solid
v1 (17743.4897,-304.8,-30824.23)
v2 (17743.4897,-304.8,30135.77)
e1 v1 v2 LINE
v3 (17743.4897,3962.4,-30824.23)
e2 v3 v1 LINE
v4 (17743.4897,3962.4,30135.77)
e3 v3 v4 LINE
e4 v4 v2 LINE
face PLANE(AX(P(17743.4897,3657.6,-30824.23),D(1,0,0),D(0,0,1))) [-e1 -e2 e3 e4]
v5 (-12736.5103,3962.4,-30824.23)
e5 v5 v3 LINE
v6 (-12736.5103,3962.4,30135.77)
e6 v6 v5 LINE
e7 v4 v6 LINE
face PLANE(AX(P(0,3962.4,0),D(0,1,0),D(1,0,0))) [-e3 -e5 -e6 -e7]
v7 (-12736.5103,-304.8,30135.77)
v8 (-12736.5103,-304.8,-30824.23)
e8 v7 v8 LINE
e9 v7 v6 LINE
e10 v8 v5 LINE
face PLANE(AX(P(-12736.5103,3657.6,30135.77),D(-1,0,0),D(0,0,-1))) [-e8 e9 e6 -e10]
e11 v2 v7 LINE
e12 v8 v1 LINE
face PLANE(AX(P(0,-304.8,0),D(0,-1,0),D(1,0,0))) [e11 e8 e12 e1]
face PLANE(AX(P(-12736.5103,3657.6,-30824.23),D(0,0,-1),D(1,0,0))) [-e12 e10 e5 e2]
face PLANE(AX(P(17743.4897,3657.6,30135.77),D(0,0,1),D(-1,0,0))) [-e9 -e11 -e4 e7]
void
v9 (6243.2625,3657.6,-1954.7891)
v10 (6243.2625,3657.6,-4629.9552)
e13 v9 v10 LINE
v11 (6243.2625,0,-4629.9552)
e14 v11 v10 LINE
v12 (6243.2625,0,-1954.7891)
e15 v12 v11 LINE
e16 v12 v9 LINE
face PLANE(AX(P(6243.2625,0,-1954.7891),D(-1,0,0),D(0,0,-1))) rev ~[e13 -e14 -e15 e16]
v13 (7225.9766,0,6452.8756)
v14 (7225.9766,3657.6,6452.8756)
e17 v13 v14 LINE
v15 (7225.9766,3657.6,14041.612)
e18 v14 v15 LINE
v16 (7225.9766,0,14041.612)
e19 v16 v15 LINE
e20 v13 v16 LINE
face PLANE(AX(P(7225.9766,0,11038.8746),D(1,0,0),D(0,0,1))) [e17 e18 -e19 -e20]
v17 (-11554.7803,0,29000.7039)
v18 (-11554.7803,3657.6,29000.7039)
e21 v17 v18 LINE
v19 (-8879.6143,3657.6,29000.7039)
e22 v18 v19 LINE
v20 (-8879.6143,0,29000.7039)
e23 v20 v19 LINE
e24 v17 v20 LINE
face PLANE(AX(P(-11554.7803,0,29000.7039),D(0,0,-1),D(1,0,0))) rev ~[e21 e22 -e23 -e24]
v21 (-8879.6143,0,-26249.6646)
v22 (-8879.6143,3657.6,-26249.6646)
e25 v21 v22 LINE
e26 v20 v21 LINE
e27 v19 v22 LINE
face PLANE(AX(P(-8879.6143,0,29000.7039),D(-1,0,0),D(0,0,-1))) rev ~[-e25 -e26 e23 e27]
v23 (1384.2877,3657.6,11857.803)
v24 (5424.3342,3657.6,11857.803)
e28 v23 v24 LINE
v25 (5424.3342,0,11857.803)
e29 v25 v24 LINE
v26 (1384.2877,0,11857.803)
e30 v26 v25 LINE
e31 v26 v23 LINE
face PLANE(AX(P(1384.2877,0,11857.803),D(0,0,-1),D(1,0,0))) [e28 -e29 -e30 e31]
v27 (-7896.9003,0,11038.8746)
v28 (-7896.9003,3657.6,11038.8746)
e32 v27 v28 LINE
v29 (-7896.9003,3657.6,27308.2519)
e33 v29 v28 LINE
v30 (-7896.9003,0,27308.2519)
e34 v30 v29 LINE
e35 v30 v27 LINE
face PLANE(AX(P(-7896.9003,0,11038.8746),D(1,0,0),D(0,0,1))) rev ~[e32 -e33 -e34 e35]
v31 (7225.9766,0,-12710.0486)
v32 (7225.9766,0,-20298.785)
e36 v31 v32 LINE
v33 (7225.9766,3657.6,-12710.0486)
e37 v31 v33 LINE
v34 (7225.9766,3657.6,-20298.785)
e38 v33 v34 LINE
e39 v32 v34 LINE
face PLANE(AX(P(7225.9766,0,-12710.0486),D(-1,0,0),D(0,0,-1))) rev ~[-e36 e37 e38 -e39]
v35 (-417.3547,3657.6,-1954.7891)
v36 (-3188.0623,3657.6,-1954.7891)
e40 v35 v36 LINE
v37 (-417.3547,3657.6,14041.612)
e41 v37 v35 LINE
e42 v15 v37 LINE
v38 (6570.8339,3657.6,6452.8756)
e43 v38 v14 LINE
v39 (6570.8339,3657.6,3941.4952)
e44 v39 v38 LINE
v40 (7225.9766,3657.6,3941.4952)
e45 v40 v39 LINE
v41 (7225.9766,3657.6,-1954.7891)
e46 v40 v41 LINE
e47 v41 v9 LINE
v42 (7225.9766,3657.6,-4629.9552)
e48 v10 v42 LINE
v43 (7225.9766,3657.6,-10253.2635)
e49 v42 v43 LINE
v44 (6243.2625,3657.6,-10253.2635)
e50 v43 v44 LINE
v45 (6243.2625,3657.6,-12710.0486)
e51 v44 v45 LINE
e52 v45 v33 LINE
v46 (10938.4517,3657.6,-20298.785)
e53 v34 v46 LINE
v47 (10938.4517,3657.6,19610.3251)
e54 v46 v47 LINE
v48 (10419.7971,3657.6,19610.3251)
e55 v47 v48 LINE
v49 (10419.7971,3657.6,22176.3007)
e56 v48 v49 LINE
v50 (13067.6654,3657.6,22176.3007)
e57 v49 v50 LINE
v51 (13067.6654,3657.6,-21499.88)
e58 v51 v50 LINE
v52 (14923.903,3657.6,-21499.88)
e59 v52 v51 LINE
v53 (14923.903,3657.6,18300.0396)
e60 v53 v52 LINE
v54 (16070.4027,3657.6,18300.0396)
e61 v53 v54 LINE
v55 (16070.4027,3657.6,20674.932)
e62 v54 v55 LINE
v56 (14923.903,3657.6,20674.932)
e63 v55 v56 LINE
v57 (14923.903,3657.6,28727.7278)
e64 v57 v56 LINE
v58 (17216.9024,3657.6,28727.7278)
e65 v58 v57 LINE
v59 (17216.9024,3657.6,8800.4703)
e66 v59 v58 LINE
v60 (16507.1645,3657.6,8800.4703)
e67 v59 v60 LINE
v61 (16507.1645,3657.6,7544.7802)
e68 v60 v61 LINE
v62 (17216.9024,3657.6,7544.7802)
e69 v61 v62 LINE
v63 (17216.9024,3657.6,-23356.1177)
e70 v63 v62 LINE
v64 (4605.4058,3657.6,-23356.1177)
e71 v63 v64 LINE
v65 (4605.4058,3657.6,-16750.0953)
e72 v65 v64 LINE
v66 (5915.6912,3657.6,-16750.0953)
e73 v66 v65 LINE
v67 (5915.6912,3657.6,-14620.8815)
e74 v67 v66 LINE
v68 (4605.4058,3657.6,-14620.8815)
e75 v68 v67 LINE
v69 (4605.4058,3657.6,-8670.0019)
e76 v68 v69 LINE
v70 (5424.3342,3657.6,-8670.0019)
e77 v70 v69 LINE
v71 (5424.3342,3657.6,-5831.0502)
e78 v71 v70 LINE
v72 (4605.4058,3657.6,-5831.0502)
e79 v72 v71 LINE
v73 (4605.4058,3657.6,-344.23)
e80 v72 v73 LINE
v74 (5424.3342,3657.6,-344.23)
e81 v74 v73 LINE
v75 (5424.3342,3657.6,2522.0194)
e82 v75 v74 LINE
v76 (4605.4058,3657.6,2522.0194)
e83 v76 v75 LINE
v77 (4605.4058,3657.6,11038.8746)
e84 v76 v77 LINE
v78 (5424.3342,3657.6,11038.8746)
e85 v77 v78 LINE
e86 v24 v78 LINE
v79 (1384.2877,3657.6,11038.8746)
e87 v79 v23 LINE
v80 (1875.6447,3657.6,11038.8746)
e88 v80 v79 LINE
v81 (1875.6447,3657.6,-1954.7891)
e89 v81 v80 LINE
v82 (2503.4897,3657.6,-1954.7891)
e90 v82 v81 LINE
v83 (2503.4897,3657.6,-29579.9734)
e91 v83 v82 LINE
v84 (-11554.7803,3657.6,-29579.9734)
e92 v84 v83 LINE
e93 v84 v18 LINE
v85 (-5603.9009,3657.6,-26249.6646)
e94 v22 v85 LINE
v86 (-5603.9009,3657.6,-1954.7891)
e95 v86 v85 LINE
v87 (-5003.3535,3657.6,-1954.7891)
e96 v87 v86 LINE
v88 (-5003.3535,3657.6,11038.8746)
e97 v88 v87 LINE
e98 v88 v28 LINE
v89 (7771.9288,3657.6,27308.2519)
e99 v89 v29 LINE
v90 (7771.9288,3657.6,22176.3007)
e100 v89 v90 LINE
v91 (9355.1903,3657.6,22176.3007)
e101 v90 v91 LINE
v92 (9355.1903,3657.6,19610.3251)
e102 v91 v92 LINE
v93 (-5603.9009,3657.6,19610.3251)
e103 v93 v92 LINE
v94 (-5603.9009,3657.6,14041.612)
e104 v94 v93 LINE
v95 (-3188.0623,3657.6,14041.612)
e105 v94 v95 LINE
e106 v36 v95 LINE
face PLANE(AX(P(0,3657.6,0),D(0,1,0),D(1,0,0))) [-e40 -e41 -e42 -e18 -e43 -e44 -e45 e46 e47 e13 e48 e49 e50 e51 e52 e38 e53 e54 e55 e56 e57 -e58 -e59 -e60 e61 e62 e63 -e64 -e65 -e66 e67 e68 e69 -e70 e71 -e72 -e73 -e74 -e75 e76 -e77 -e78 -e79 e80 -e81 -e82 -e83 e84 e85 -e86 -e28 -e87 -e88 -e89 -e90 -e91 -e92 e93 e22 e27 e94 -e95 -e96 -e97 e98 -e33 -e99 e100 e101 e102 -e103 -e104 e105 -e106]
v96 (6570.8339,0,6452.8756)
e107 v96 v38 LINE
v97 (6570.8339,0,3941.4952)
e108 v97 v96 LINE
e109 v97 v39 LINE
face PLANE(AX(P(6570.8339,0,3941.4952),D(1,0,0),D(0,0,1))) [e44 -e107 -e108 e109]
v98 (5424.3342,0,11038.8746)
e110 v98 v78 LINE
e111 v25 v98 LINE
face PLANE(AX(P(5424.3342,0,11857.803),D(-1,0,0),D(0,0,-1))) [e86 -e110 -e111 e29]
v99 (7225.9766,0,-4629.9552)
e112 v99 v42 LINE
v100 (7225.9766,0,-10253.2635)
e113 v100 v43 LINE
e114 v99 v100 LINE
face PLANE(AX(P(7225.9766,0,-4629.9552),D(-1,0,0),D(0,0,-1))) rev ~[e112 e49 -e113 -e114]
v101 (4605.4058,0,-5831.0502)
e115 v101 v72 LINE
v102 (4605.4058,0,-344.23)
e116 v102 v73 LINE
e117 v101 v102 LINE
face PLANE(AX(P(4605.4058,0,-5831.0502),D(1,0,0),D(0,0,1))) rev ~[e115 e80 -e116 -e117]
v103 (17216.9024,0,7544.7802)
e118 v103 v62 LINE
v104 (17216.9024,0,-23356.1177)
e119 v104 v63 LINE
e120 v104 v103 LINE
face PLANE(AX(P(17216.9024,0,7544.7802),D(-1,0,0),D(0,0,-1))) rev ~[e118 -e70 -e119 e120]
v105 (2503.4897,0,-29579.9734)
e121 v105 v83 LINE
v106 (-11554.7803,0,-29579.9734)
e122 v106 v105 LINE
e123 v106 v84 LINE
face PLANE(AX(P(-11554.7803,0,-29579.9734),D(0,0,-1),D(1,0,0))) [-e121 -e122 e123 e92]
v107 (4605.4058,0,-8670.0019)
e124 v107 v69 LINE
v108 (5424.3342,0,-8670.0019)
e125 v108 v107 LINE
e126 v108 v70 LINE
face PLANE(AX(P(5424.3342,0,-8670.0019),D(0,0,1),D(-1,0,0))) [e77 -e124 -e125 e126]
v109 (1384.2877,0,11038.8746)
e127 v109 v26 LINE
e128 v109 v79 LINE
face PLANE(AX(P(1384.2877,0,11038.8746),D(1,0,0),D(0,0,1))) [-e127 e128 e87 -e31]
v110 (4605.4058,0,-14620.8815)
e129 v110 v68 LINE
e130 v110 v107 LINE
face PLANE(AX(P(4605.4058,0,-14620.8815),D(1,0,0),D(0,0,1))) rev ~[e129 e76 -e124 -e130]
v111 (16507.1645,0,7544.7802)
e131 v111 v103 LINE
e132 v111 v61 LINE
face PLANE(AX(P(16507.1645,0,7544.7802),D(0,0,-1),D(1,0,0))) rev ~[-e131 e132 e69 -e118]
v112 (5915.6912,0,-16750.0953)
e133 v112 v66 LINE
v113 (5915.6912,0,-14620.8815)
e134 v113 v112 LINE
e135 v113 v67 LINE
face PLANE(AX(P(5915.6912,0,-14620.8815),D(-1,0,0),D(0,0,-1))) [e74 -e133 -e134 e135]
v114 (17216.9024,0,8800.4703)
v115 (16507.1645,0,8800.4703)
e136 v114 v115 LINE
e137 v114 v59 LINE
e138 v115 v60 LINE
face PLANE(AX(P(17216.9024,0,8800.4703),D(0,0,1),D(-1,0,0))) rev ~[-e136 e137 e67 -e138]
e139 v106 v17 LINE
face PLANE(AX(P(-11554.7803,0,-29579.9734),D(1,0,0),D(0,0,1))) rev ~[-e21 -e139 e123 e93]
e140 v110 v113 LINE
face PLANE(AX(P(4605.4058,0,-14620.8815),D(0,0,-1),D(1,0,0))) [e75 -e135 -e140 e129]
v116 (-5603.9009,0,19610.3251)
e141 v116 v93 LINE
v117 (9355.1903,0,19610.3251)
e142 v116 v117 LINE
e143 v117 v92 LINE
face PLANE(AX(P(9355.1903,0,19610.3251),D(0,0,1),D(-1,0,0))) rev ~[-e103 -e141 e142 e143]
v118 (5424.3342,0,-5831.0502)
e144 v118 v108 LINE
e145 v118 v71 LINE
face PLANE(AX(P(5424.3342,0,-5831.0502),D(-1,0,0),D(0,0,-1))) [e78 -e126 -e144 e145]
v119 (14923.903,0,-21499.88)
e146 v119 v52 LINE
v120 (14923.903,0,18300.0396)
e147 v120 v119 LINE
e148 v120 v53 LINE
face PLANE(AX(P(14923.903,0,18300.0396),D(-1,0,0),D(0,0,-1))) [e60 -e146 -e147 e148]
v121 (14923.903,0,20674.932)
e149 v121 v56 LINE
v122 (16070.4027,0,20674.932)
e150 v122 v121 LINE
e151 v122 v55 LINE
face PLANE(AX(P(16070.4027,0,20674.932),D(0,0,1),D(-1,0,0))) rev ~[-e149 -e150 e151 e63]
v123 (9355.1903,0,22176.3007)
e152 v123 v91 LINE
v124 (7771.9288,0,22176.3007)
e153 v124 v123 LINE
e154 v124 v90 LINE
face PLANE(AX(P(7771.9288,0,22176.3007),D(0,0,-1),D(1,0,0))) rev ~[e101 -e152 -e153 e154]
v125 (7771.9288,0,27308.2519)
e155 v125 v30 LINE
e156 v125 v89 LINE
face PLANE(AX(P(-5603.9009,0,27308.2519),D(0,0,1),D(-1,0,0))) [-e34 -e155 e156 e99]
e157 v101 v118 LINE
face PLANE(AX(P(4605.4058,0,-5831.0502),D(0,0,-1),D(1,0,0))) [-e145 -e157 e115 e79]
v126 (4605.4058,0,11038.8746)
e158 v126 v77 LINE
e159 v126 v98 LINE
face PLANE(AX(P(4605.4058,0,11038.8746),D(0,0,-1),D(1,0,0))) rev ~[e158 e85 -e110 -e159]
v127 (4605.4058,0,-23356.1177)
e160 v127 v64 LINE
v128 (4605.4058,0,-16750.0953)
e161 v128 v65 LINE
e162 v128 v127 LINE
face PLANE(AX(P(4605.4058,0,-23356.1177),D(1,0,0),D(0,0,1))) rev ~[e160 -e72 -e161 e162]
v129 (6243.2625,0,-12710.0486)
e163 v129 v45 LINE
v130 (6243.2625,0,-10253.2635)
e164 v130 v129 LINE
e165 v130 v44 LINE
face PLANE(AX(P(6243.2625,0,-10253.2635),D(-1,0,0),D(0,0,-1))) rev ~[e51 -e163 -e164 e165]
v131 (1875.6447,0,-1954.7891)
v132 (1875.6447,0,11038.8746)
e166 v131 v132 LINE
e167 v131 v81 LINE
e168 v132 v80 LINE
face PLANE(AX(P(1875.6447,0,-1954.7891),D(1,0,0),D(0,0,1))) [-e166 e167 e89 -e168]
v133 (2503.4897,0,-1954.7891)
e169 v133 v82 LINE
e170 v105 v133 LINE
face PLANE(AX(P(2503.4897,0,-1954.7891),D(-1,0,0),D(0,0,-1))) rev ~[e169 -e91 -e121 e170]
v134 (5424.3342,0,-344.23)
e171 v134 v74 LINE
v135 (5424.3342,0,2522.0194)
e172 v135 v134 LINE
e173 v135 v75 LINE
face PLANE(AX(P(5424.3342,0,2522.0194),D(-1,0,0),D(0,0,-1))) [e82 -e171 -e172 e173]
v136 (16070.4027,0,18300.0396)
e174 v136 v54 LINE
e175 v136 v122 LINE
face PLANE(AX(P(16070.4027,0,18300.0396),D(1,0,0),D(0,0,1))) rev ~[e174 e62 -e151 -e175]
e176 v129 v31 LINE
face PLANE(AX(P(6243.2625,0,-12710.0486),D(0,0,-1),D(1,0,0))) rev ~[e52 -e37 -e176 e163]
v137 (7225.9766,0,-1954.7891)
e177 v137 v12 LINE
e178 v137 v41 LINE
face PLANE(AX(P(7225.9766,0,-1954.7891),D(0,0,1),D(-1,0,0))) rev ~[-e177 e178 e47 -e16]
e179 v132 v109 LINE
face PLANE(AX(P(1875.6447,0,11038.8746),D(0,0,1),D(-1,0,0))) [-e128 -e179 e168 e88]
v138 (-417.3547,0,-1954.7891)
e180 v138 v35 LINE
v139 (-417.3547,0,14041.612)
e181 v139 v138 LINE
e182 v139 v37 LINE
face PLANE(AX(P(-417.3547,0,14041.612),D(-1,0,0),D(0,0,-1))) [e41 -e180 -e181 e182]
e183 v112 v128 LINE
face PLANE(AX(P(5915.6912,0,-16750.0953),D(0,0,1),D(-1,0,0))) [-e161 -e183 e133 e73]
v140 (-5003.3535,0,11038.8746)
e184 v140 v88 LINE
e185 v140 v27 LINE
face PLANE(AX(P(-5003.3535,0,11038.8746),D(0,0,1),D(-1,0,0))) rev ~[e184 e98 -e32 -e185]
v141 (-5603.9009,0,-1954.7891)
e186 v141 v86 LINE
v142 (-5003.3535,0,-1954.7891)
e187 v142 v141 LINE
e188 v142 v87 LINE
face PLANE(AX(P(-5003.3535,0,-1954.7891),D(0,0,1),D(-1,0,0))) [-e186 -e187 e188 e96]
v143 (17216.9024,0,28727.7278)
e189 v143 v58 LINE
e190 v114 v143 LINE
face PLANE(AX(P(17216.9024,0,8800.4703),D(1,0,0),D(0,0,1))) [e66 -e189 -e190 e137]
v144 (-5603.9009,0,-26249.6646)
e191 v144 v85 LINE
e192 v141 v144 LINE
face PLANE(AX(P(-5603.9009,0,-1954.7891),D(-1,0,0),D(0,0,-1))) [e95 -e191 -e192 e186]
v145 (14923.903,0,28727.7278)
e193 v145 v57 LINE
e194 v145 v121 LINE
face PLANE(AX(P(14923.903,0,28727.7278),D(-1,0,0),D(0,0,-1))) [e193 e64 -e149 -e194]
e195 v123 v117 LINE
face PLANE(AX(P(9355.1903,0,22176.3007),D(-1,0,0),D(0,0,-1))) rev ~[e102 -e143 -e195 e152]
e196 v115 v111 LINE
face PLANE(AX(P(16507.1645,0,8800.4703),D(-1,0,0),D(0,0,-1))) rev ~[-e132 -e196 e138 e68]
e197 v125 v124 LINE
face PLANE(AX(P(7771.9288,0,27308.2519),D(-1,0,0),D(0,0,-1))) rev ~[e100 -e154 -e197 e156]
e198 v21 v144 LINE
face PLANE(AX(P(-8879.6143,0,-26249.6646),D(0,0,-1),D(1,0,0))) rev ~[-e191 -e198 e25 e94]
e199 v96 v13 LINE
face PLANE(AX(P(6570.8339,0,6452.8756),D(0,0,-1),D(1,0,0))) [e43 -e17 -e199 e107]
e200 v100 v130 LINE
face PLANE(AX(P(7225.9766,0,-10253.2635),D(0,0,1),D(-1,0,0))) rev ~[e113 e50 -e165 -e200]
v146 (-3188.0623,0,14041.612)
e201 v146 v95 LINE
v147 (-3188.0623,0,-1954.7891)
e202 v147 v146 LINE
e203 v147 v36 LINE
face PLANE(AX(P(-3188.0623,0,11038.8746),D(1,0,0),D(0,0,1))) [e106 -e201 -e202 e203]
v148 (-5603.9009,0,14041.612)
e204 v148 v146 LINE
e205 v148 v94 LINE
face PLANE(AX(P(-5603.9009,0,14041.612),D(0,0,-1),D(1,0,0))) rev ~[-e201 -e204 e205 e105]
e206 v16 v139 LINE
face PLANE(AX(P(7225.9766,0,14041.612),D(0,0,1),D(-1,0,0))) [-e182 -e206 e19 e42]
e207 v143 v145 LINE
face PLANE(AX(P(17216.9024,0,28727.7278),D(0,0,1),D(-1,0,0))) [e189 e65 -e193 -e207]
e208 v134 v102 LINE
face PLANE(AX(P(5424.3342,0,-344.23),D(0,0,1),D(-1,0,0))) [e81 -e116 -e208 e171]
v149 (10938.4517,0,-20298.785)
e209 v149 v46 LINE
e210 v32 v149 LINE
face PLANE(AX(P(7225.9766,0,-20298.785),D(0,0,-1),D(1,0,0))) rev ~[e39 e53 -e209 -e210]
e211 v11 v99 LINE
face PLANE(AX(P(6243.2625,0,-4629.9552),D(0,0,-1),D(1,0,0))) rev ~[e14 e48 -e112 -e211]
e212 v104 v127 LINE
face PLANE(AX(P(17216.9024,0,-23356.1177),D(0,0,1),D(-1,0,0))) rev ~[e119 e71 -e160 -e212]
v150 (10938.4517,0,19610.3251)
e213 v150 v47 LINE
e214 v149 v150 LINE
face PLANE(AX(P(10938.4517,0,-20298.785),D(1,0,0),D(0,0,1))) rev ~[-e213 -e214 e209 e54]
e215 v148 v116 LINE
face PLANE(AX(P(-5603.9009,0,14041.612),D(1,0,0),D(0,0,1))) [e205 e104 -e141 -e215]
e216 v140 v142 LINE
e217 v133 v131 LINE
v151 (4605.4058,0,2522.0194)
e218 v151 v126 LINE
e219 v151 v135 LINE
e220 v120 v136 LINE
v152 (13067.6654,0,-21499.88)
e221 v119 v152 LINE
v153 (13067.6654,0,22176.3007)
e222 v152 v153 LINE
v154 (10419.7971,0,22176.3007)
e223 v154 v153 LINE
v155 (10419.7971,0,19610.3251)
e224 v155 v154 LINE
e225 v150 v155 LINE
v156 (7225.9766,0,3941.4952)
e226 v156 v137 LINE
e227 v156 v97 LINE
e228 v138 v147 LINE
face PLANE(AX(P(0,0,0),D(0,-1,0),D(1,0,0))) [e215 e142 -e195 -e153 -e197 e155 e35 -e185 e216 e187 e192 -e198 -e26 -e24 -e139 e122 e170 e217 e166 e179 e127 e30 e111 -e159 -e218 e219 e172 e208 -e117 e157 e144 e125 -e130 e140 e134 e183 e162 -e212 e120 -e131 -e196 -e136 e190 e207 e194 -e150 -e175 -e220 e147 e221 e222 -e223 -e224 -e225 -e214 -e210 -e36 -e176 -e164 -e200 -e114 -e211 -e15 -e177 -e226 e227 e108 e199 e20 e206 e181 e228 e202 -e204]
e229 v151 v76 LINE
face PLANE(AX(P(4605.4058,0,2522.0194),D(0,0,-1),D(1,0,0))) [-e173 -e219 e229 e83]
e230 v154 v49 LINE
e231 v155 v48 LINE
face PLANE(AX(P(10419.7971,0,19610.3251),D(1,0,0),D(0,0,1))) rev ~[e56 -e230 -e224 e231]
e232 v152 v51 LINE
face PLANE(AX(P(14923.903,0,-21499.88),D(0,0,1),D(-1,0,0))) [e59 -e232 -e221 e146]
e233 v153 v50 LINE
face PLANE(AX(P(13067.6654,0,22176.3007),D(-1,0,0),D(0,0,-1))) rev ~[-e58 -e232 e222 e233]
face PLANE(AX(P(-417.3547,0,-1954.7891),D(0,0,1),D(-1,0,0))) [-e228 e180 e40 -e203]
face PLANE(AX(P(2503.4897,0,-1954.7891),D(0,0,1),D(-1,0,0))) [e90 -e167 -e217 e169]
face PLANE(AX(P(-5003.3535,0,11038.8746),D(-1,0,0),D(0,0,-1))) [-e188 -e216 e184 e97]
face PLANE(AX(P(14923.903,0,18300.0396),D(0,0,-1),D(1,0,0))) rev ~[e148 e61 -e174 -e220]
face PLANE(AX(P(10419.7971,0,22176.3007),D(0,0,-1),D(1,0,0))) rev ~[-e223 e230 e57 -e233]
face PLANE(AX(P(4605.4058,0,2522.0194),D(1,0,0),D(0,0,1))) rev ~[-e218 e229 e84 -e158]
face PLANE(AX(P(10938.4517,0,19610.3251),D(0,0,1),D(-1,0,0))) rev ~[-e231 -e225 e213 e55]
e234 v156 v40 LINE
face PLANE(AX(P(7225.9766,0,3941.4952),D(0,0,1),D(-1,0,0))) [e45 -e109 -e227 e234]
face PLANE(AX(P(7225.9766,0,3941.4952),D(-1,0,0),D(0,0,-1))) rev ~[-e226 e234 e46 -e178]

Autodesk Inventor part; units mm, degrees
ref_plane "YZ Plane" through (0, 0, 0) normal (1, 0, 0) x (0, 1, 0)
ref_plane "XZ Plane" through (0, 0, 0) normal (0, 1, 0) x (-1, 0, 0)
ref_plane "XY Plane" through (0, 0, 0) normal (0, 0, 1) x (1, 0, 0)
sketch "Sketch1" plane through (0, 0, 0) normal (0, 1, 0) x (-1, 0, 0)
  line L0 (12736.5103, 30135.77) -> (-17743.4897, 30135.77)
  line L1 (-17743.4897, 30135.77) -> (-17743.4897, -30824.23)
  line L2 (-17743.4897, -30824.23) -> (12736.5103, -30824.23)
  line L3 (12736.5103, -30824.23) -> (12736.5103, 30135.77)
  line L4 (11554.7803, 29000.7039) -> (8879.6143, 29000.7039)
  line L5 (8879.6143, 29000.7039) -> (8879.6143, -26249.6646)
  line L6 (11554.7803, -29579.9734) -> (11554.7803, 29000.7039)
  line L7 (8879.6143, -26249.6646) -> (5603.9009, -26249.6646)
  line L8 (-2503.4897, -1954.7891) -> (-2503.4897, -29579.9734)
  line L9 (-2503.4897, -26249.6646) -> (-2503.4897, -1954.7891)
  line L10 (5603.9009, -1954.7891) -> (5603.9009, -26249.6646)
  line L11 (3188.0623, -1954.7891) -> (3188.0623, 14041.612)
  line L12 (5003.3535, 11038.8746) -> (5003.3535, -1954.7891)
  line L13 (-1875.6447, -1954.7891) -> (-1875.6447, 11038.8746)
  line L14 (-1875.6447, 11038.8746) -> (-1384.2877, 11038.8746)
  line L15 (417.3547, 14041.612) -> (417.3547, -1954.7891)
  line L16 (-7225.9766, 6452.8756) -> (-7225.9766, 14041.612)
  line L17 (-7225.9766, 14041.612) -> (417.3547, 14041.612)
  line L18 (417.3547, 14041.612) -> (417.3547, -1954.7891)
  line L19 (-4605.4058, 11038.8746) -> (-5424.3342, 11038.8746)
  line L20 (5003.3535, 11038.8746) -> (7896.9003, 11038.8746)
  line L21 (7896.9003, 11038.8746) -> (7896.9003, 14041.612)
  line L22 (5603.9009, 14041.612) -> (3188.0623, 14041.612)
  line L23 (3188.0623, 14041.612) -> (3188.0623, 11038.8746)
  line L24 (5603.9009, 14041.612) -> (5603.9009, 19610.3251)
  line L25 (5603.9009, 27308.2519) -> (7896.9003, 27308.2519)
  line L26 (7896.9003, 27308.2519) -> (7896.9003, 11038.8746)
  line L27 (7896.9003, 27308.2519) -> (-7771.9288, 27308.2519)
  line L28 (-7771.9288, 27308.2519) -> (-7771.9288, 22176.3007)
  line L29 (-9355.1903, 19610.3251) -> (5603.9009, 19610.3251)
  line L30 (-13067.6654, 22176.3007) -> (-13067.6654, 19610.3251)
  line L31 (-13067.6654, 22176.3007) -> (-13067.6654, -21499.88)
  line L32 (-10938.4517, -20298.785) -> (-10938.4517, 19610.3251)
  line L33 (-17216.9024, 7544.7802) -> (-17216.9024, -23356.1177)
  line L34 (-17216.9024, -23356.1177) -> (-4605.4058, -23356.1177)
  line L35 (-4605.4058, -23356.1177) -> (-4605.4058, -20298.785)
  line L36 (-17216.9024, 28727.7278) -> (-14923.903, 28727.7278)
  line L37 (-16507.1645, 7544.7802) -> (-17216.9024, 7544.7802)
  line L38 (-17216.9024, 8800.4703) -> (-16507.1645, 8800.4703)
  line L39 (-16507.1645, 8800.4703) -> (-16507.1645, 7544.7802)
  line L40 (-14923.903, 18300.0396) -> (-16070.4027, 18300.0396)
  line L41 (-16070.4027, 18300.0396) -> (-16070.4027, 20674.932)
  line L42 (-16070.4027, 20674.932) -> (-14923.903, 20674.932)
  line L43 (-14923.903, 18300.0396) -> (-14923.903, -21499.88)
  line L44 (-14923.903, -21499.88) -> (-13067.6654, -21499.88)
  line L45 (-13067.6654, -21499.88) -> (-13067.6654, 22176.3007)
  line L46 (-7225.9766, 3941.4952) -> (-6570.8339, 3941.4952)
  line L47 (-6570.8339, 3941.4952) -> (-6570.8339, 6452.8756)
  line L48 (-6570.8339, 6452.8756) -> (-7225.9766, 6452.8756)
  line L49 (-4605.4058, 2522.0194) -> (-5424.3342, 2522.0194)
  line L50 (-5424.3342, 2522.0194) -> (-5424.3342, -344.23)
  line L51 (-5424.3342, -344.23) -> (-4605.4058, -344.23)
  line L52 (-7225.9766, -1954.7891) -> (-6243.2625, -1954.7891)
  line L53 (-6243.2625, -1954.7891) -> (-6243.2625, -4629.9552)
  line L54 (-6243.2625, -4629.9552) -> (-7225.9766, -4629.9552)
  line L55 (-4605.4058, -5831.0502) -> (-5424.3342, -5831.0502)
  line L56 (-5424.3342, -5831.0502) -> (-5424.3342, -8670.0019)
  line L57 (-5424.3342, -8670.0019) -> (-4605.4058, -8670.0019)
  line L58 (-7225.9766, -10253.2635) -> (-6243.2625, -10253.2635)
  line L59 (-6243.2625, -10253.2635) -> (-6243.2625, -12710.0486)
  line L60 (-6243.2625, -12710.0486) -> (-7225.9766, -12710.0486)
  line L61 (-4605.4058, -14620.8815) -> (-5915.6912, -14620.8815)
  line L62 (-5915.6912, -14620.8815) -> (-5915.6912, -16750.0953)
  line L63 (-5915.6912, -16750.0953) -> (-4605.4058, -16750.0953)
  line L64 (-1384.2877, 11038.8746) -> (-1384.2877, 11857.803)
  line L65 (-1384.2877, 11857.803) -> (-5424.3342, 11857.803)
  line L66 (-5424.3342, 11857.803) -> (-5424.3342, 11038.8746)
  line L67 (-7225.9766, -20298.785) -> (-10938.4517, -20298.785)
  line L68 (-17216.9024, -20298.785) -> (-17216.9024, 7544.7802)
  line L69 (-17216.9024, 8800.4703) -> (-17216.9024, 28727.7278)
  line L70 (-14923.903, 28727.7278) -> (-14923.903, 20674.932)
  line L71 (-14923.903, 18300.0396) -> (-14923.903, -21499.88)
  line L72 (5003.3535, -1954.7891) -> (5603.9009, -1954.7891)
  line L73 (-2503.4897, -1954.7891) -> (-1875.6447, -1954.7891)
  line L74 (417.3547, -1954.7891) -> (3188.0623, -1954.7891)
  line L75 (-1384.2877, 11038.8746) -> (-1875.6447, 11038.8746)
  line L76 (-4605.4058, 11038.8746) -> (-5424.3342, 11038.8746)
  line L77 (-5424.3342, 11038.8746) -> (-4605.4058, 11038.8746)
  line L78 (-1875.6447, 11038.8746) -> (-1384.2877, 11038.8746)
  line L79 (-7225.9766, 11038.8746) -> (-7225.9766, 6452.8756)
  line L80 (-7225.9766, 3941.4952) -> (-7225.9766, -1954.7891)
  line L81 (-4605.4058, 2522.0194) -> (-4605.4058, 11038.8746)
  line L82 (-4605.4058, -5831.0502) -> (-4605.4058, -344.23)
  line L83 (-4605.4058, -23356.1177) -> (-4605.4058, -16750.0953)
  line L84 (-4605.4058, -14620.8815) -> (-4605.4058, -8670.0019)
  line L85 (-7225.9766, -4629.9552) -> (-7225.9766, -10253.2635)
  line L86 (-7225.9766, -12710.0486) -> (-7225.9766, -20298.785)
  line L87 (-10419.7971, 19610.3251) -> (-10419.7971, 22176.3007)
  line L88 (-9355.1903, 22176.3007) -> (-9355.1903, 19610.3251)
  line L89 (-10938.4517, 19610.3251) -> (-10419.7971, 19610.3251)
  line L90 (-9355.1903, 19610.3251) -> (-7771.9288, 19610.3251)
  line L91 (-7771.9288, 22176.3007) -> (-9355.1903, 22176.3007)
  line L92 (-10419.7971, 22176.3007) -> (-13067.6654, 22176.3007)
  line L93 (11554.7803, -29579.9734) -> (-2503.4897, -29579.9734)
  point P0 (0, 0)
  dimension "d0" = 60960
  dimension "d1" = 30480
  dimension "d2" = 2675.1659
extrude "Extrusion1" add sketch "Sketch1" along normal blind 3657.6
sketch "Sketch2" plane through (0, 0, 0) normal (0, -1, 0) x (1, 0, 0)
  line L0 (17743.4897, 30135.77) -> (-12736.5103, 30135.77)
  line L1 (-12736.5103, 30135.77) -> (-12736.5103, -30824.23)
  line L2 (-12736.5103, -30824.23) -> (17743.4897, -30824.23)
  line L3 (17743.4897, -30824.23) -> (17743.4897, 30135.77)
  point P0 (0, 0)
extrude "Extrusion2" add sketch "Sketch2" along normal blind 304.8
sketch "Sketch3" plane through (0, 3657.6, 0) normal (0, 1, 0) x (1, 0, 0)
  line L0 (-12736.5103, 30824.23) -> (17743.4897, 30824.23)
  line L1 (17743.4897, 30824.23) -> (17743.4897, -30135.77)
  line L2 (17743.4897, -30135.77) -> (-12736.5103, -30135.77)
  line L3 (-12736.5103, -30135.77) -> (-12736.5103, 30824.23)
  point P0 (0, 0)
extrude "Extrusion3" add sketch "Sketch3" along normal blind 304.8
properties part number "Level1"
